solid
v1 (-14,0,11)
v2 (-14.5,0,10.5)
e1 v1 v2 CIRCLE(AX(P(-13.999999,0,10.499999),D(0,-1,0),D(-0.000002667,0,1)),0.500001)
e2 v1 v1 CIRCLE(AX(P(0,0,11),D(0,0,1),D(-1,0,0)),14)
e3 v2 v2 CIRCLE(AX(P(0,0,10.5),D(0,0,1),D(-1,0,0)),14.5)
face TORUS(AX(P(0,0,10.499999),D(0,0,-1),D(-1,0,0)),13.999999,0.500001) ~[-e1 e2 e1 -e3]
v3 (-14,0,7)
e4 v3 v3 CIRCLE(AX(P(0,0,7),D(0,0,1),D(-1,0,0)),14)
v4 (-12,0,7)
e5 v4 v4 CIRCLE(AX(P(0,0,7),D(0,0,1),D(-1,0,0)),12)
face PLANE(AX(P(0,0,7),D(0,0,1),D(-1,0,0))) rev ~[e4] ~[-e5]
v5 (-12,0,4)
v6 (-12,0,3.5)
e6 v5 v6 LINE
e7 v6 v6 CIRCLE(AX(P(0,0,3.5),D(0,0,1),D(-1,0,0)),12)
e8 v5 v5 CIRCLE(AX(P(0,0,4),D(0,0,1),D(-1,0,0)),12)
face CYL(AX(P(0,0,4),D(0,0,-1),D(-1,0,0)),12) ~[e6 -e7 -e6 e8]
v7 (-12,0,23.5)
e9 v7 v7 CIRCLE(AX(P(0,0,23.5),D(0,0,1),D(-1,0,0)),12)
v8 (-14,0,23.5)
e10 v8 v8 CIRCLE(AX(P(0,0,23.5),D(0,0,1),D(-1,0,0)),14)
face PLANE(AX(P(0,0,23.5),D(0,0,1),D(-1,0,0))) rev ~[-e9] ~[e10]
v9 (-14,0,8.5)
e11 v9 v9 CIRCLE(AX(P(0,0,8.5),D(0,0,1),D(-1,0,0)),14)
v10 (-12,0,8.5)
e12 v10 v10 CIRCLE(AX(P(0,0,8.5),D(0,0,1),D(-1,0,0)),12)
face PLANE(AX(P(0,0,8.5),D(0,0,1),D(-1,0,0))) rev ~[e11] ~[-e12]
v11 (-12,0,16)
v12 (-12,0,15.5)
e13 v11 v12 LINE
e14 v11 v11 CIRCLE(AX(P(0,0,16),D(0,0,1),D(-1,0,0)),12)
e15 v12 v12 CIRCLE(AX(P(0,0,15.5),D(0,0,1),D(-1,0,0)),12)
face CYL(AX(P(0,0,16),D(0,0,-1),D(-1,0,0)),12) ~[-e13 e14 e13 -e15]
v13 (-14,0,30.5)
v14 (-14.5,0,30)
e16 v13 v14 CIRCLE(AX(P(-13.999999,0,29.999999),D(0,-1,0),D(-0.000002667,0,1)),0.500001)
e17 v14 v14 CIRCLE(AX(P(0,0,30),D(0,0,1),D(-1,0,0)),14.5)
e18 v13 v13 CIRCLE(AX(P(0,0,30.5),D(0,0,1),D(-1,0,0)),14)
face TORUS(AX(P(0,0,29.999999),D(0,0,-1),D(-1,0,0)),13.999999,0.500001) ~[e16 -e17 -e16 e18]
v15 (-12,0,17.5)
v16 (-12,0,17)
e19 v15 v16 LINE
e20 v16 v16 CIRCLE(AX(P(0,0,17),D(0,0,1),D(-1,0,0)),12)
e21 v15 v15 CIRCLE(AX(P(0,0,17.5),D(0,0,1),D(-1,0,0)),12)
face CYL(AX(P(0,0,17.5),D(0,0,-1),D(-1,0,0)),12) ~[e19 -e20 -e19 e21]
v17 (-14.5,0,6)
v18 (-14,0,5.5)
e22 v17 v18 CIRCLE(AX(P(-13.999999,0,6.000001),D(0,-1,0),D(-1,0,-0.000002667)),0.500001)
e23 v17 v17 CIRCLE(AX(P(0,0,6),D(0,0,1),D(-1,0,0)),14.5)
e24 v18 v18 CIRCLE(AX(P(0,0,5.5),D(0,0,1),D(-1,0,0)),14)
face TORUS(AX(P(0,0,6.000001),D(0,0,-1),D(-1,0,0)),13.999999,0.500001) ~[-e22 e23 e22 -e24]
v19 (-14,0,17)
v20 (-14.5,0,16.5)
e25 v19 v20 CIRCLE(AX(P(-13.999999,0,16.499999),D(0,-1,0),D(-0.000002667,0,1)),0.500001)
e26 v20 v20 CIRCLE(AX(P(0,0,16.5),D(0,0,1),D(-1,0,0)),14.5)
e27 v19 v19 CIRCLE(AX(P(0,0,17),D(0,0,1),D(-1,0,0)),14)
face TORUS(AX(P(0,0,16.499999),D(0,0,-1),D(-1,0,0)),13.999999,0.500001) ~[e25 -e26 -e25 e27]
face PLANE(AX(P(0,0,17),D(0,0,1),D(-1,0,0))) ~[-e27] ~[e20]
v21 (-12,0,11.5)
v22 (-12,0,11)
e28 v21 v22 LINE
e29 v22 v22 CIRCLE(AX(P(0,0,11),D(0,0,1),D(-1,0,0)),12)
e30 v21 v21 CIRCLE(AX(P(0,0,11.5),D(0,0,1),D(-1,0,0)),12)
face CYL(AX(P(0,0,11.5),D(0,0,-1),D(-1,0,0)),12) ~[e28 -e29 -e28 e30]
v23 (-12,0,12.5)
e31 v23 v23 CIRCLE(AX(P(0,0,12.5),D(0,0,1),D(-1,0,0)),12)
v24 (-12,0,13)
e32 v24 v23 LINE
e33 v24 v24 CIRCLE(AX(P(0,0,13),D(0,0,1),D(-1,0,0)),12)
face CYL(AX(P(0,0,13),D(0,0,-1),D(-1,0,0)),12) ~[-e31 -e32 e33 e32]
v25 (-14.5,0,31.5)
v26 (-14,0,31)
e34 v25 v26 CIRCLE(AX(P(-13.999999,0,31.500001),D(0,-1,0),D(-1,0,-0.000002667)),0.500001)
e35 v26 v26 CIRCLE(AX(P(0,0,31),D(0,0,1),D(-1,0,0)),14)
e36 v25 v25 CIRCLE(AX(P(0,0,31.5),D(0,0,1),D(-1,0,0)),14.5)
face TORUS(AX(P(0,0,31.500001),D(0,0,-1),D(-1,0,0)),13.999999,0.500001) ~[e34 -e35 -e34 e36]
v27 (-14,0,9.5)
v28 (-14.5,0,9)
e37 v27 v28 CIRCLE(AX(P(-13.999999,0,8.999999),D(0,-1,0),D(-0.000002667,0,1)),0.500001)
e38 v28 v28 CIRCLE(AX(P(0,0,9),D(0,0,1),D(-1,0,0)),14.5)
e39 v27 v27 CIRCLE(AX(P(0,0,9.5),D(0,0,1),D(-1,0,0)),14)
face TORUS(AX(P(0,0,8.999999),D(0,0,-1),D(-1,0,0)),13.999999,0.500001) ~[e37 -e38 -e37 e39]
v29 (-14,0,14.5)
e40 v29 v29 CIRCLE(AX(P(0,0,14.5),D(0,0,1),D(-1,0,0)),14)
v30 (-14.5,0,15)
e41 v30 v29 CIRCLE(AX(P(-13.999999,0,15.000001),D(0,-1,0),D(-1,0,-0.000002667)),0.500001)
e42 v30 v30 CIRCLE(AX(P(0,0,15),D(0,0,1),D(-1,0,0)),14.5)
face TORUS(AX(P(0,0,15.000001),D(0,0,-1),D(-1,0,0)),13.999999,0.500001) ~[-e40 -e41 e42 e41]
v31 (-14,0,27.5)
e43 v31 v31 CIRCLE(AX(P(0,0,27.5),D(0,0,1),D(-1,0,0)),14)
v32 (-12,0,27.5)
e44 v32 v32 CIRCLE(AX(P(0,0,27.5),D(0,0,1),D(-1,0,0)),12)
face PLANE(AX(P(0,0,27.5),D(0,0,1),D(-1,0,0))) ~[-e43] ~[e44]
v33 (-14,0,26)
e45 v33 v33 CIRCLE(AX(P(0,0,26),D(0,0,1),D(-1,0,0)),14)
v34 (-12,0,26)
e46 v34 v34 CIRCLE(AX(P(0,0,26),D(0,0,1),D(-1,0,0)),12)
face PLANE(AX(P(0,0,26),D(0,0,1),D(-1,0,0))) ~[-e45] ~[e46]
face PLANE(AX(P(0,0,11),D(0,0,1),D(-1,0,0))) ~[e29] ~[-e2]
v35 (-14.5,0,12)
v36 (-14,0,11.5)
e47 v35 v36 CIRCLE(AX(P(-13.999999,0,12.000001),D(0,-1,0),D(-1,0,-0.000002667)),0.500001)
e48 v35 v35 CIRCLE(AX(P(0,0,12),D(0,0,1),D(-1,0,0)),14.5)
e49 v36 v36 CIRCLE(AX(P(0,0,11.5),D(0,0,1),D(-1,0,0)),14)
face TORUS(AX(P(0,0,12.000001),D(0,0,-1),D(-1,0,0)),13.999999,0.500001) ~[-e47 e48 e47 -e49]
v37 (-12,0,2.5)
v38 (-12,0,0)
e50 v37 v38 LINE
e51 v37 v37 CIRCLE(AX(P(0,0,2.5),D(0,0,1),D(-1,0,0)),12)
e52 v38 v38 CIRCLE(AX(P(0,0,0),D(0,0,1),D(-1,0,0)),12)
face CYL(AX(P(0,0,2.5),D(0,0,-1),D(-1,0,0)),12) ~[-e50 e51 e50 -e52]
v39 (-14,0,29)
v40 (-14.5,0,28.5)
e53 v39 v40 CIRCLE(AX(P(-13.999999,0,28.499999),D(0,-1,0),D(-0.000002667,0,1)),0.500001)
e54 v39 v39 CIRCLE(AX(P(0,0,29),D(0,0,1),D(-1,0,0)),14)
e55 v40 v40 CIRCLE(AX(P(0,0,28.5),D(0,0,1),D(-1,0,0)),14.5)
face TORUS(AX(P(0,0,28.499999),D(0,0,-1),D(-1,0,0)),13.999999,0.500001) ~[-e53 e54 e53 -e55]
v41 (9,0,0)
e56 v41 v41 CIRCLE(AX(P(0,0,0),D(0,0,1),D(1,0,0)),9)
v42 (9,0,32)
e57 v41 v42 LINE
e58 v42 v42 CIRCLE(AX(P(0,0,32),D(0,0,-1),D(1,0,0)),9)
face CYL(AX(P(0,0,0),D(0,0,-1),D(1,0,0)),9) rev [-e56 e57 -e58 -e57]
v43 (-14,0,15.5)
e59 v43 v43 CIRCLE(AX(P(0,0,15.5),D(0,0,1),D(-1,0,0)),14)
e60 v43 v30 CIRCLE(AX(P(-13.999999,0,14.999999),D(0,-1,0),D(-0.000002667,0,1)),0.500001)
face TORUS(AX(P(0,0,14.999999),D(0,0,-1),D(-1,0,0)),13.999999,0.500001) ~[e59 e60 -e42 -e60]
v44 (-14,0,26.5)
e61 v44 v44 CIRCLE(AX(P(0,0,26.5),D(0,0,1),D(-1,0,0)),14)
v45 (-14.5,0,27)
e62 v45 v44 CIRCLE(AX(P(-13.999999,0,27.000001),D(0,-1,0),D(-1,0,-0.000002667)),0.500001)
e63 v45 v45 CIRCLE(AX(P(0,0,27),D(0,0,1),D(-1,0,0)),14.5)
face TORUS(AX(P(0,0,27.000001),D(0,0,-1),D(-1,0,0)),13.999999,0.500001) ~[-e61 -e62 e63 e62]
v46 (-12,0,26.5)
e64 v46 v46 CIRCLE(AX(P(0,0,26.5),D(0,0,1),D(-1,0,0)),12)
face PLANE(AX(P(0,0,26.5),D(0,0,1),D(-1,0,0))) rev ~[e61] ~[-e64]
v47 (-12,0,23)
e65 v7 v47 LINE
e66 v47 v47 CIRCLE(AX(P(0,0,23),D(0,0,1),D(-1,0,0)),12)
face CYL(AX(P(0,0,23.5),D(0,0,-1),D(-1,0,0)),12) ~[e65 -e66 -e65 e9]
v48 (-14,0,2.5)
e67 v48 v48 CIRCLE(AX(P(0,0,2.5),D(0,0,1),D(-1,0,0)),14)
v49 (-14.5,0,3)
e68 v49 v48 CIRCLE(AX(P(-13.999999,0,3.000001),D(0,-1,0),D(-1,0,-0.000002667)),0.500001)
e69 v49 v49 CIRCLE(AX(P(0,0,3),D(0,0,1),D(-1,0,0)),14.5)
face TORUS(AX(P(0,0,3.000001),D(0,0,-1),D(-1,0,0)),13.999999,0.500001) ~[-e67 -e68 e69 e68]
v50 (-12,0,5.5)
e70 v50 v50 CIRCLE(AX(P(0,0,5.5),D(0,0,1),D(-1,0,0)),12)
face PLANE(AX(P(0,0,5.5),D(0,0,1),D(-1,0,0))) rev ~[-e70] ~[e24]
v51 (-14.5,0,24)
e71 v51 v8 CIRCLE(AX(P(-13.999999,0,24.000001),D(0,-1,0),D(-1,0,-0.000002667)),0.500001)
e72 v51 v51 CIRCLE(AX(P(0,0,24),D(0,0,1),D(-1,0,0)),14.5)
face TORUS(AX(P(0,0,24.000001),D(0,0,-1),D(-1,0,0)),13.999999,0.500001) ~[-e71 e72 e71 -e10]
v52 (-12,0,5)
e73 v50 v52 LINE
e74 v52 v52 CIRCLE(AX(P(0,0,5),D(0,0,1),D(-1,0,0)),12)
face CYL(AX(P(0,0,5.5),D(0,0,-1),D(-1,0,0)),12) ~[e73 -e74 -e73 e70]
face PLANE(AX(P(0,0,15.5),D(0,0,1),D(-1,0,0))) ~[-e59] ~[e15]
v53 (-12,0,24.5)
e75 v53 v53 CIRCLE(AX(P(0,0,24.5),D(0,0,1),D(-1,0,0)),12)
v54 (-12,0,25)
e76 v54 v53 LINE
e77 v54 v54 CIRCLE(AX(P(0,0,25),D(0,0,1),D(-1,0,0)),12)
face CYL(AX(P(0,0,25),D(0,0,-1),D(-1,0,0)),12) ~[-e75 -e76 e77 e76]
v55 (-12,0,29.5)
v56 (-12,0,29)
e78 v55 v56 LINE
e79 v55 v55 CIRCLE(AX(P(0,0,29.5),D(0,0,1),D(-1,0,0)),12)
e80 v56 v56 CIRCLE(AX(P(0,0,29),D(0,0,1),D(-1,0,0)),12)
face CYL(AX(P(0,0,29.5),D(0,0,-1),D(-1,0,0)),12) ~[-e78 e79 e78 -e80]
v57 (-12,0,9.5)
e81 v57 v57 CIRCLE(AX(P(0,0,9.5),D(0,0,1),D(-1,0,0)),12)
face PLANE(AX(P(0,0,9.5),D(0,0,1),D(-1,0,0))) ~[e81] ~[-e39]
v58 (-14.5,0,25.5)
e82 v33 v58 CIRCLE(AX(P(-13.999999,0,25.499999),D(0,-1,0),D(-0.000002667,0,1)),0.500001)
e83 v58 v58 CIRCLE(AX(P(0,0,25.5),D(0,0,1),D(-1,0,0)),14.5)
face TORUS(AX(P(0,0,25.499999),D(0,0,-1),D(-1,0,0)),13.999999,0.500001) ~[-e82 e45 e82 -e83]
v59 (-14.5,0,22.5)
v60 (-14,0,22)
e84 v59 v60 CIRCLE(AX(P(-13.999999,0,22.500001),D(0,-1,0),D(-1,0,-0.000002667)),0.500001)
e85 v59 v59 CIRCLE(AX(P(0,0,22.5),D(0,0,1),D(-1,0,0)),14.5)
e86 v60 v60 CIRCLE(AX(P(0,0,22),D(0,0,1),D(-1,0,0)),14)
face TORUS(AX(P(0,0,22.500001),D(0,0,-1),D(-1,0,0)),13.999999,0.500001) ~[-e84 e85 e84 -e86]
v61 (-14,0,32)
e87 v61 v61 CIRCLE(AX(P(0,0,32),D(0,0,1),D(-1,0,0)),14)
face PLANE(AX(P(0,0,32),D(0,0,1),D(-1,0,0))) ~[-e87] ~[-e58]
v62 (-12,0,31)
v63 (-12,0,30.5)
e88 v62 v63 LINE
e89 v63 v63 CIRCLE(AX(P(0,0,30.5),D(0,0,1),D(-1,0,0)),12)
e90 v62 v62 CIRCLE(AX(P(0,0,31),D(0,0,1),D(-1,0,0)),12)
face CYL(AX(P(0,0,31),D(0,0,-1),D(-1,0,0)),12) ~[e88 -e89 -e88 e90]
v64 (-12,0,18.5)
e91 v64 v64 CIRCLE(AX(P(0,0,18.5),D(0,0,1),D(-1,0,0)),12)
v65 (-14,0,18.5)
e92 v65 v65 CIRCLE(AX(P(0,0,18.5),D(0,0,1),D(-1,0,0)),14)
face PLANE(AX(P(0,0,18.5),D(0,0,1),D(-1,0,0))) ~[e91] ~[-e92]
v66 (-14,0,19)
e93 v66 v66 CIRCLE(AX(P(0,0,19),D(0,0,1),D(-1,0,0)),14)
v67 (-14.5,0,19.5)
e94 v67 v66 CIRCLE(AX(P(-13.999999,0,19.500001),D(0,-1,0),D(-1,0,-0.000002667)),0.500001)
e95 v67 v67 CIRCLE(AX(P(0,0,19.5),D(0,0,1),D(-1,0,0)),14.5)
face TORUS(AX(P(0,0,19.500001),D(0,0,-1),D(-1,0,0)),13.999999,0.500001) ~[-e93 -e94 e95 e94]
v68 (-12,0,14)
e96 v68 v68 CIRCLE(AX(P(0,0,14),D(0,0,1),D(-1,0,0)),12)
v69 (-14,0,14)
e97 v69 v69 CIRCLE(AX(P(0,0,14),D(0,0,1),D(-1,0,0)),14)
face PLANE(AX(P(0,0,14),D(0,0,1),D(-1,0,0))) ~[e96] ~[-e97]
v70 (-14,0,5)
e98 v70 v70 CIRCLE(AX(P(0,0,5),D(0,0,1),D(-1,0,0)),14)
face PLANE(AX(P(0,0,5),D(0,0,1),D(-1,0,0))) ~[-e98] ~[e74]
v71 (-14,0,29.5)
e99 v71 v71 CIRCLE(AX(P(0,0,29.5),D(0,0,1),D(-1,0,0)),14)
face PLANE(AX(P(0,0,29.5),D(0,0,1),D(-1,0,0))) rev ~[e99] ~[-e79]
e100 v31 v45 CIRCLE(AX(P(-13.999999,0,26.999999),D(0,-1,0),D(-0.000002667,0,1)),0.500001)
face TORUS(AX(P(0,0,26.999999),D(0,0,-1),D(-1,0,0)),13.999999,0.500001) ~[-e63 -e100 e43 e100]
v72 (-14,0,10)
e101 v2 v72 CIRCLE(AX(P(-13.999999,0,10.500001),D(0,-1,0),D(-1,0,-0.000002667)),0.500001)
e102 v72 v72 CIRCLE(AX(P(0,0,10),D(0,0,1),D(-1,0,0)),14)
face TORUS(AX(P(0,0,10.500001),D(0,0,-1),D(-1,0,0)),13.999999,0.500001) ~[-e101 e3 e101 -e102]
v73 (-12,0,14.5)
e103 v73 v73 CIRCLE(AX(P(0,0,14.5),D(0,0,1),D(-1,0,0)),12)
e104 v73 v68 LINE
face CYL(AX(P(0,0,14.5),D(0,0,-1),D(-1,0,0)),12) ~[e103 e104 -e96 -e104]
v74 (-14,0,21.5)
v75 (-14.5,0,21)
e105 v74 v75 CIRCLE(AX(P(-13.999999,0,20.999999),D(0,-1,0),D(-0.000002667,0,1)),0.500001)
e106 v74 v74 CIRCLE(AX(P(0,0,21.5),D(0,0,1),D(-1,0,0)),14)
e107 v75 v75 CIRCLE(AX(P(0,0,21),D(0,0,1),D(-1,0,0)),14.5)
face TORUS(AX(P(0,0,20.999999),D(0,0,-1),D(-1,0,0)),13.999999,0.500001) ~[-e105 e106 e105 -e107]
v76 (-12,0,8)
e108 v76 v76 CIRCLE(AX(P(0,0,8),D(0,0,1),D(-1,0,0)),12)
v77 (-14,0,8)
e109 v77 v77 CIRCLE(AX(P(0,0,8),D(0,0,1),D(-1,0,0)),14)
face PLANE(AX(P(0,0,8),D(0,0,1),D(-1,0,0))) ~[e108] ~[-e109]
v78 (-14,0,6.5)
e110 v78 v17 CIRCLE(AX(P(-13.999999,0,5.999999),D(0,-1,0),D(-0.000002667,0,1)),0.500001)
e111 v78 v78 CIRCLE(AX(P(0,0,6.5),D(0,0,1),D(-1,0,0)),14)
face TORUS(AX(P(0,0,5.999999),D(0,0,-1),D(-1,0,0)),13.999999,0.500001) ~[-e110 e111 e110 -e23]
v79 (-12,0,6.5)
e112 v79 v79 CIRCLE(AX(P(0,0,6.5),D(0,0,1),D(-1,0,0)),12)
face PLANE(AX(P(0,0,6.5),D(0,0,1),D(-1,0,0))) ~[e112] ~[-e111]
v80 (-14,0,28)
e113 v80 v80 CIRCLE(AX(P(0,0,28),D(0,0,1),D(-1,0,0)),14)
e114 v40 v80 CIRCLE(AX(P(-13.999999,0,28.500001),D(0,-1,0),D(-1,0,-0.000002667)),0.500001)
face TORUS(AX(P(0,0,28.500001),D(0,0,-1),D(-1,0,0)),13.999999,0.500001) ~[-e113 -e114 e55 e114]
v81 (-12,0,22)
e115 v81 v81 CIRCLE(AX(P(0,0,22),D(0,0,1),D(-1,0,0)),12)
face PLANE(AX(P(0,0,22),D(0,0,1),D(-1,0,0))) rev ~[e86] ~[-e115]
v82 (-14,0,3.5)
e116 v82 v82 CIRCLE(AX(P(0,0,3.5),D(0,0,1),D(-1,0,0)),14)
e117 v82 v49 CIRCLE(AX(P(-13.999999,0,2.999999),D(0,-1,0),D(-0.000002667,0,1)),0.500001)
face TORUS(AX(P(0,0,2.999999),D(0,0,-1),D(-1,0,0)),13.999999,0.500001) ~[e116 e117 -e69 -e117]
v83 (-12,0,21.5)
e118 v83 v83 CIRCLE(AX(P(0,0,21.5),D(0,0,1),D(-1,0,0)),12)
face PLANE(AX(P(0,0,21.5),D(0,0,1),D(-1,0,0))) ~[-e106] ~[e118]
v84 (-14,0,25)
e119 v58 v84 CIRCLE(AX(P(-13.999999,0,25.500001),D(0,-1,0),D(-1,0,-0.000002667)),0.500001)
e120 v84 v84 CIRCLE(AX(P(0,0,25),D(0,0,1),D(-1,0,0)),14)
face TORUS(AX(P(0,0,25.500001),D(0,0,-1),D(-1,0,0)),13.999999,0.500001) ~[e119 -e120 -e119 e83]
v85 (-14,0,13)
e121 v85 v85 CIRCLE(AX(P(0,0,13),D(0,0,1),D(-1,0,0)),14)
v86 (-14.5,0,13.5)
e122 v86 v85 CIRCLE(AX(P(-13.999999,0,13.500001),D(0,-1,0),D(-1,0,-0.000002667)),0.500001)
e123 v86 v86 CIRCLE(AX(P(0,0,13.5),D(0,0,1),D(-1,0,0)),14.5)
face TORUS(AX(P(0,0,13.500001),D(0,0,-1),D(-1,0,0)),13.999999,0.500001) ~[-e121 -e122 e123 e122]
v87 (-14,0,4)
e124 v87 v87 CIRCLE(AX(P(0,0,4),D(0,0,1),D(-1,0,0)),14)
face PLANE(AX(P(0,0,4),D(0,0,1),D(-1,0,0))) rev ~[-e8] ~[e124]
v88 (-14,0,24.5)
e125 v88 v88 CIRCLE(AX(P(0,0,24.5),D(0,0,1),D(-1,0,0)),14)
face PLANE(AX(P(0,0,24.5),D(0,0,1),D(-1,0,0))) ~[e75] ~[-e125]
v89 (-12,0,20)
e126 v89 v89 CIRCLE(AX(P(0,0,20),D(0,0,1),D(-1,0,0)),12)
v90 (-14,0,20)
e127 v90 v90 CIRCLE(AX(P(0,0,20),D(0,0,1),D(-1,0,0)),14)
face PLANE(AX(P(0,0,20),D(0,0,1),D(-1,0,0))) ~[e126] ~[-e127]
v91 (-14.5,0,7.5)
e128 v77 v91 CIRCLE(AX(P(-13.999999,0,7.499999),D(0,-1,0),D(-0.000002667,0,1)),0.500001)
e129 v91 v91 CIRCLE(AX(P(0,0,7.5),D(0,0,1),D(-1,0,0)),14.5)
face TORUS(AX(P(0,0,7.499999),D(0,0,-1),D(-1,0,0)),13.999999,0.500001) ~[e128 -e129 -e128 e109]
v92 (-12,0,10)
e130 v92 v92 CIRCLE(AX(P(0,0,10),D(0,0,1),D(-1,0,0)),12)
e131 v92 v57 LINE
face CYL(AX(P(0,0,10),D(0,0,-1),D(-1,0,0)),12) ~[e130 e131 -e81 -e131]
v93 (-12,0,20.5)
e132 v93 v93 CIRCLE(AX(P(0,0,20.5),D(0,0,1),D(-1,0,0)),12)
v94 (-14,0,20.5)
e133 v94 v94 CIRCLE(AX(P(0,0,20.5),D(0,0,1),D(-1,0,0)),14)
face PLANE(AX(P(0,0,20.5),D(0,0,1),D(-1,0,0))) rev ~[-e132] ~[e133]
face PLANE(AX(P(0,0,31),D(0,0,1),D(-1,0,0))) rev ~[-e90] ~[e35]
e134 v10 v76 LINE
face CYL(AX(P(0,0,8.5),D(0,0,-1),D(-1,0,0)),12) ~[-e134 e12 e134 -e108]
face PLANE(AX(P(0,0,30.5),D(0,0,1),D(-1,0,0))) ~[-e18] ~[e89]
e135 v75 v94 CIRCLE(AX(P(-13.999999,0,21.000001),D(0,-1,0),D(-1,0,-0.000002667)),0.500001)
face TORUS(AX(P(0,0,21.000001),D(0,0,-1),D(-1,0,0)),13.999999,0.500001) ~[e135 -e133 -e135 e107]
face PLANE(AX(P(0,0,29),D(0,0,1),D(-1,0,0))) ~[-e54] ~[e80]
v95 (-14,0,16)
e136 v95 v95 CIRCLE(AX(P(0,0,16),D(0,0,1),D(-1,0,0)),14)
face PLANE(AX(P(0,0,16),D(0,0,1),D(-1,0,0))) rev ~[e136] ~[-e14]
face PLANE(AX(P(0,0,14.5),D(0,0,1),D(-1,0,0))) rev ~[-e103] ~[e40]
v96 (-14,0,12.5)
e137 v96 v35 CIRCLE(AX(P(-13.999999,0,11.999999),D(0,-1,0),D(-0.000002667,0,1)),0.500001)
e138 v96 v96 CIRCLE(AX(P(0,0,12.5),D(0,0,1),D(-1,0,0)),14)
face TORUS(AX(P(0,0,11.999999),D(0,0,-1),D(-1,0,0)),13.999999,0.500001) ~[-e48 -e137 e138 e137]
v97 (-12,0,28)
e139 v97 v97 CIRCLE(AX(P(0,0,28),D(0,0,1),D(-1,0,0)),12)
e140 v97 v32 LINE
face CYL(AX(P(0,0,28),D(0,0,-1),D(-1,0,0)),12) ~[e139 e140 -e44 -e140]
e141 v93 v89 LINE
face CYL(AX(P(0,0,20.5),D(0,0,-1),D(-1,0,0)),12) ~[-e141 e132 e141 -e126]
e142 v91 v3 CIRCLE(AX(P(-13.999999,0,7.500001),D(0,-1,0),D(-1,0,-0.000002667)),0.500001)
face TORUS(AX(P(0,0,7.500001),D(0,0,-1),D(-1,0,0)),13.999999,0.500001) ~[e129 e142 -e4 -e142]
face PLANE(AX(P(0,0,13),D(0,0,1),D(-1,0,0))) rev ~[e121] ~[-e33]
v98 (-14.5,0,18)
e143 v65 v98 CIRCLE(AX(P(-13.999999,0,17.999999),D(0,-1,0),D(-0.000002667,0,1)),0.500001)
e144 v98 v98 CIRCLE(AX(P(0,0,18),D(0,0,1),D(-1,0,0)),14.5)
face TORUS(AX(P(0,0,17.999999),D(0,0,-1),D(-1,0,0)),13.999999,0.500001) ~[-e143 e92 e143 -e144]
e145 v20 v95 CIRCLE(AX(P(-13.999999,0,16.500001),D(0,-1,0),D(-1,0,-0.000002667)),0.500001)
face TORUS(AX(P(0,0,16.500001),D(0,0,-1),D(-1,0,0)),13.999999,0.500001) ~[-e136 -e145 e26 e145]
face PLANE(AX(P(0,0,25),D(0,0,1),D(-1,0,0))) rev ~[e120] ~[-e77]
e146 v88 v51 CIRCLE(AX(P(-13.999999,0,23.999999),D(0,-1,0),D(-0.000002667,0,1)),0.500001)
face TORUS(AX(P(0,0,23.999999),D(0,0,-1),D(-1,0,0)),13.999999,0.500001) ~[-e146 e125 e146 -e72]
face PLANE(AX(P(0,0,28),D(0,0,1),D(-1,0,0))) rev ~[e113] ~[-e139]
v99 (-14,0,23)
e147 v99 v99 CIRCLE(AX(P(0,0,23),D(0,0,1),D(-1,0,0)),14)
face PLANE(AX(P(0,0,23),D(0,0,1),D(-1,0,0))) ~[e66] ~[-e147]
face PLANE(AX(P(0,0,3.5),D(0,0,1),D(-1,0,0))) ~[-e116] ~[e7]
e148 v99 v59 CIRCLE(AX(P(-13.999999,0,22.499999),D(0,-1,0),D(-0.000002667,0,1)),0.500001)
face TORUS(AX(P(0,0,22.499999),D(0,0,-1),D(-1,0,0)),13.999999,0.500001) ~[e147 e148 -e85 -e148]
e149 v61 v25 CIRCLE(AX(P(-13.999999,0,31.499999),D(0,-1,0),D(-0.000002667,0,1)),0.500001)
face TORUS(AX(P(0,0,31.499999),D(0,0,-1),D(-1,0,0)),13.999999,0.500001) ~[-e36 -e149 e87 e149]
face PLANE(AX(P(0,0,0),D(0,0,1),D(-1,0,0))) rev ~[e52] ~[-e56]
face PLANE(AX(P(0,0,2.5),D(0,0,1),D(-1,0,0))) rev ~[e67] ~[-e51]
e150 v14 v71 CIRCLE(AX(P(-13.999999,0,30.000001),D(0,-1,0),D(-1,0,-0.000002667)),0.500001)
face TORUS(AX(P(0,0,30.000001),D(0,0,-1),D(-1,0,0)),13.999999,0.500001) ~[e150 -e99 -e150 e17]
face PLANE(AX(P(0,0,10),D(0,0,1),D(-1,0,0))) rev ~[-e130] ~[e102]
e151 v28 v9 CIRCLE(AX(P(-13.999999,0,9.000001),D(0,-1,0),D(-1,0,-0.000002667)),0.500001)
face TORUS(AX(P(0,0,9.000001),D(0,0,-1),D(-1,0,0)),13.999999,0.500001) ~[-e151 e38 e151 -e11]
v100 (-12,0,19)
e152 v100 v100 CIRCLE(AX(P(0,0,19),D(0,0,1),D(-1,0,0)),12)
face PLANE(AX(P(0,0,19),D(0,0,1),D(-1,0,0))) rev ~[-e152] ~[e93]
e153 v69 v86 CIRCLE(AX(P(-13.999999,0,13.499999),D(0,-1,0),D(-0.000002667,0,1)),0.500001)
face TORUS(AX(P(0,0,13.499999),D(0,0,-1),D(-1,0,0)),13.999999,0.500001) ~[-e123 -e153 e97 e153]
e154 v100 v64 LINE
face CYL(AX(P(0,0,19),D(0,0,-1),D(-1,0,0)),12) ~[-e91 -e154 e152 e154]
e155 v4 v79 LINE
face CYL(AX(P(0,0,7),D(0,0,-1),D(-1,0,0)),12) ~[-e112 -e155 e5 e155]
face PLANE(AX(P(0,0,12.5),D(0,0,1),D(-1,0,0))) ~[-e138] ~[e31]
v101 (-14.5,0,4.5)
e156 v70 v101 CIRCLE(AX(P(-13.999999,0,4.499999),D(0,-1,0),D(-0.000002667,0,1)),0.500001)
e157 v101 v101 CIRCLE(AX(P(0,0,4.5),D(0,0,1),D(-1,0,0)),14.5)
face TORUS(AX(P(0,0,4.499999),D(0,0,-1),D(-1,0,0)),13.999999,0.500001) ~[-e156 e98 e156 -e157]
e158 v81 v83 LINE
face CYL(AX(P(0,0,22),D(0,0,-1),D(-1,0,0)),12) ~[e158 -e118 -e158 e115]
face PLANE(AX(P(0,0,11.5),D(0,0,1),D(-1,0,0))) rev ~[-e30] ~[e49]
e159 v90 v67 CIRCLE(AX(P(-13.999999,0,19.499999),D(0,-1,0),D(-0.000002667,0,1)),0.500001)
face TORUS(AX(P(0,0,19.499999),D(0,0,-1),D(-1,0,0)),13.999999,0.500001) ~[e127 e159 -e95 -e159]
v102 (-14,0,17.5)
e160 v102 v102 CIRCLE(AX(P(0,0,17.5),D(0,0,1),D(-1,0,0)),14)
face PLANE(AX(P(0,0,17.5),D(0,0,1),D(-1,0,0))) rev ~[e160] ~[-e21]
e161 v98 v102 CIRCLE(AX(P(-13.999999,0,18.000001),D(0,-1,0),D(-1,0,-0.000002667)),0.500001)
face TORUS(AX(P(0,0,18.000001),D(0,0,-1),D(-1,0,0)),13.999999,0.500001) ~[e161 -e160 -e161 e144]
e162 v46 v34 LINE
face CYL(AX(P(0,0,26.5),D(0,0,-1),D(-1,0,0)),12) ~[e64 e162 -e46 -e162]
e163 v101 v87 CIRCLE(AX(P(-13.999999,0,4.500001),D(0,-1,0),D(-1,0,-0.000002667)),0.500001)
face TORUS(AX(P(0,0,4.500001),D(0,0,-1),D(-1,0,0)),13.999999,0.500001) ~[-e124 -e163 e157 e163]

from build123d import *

# Parameters (mm, degrees)
F0_R     = 9
F1_DEPTH = 32
F4_DEPTH = 40


with BuildPart() as f1:
    # F0 (on Top) → F1 (new body)
    with BuildSketch(Plane.XY):
        Circle(F0_R)
    extrude(amount=F1_DEPTH)

    # F2 (on Front) → F3 (revolve)
    with BuildSketch(Plane.XZ):
        with BuildLine():
            Line((-12, 29.5), (-12, 30.5))
            Line((-12, 30.5), (-14, 30.5))
            ThreePointArc((-14, 30.5), (-14.353553, 30.353553), (-14.5, 30))
            ThreePointArc((-14.5, 30), (-14.353553, 29.646447), (-14, 29.5))
            Line((-14, 29.5), (-12, 29.5))
        make_face()
        with BuildLine():
            Line((-12, 31), (-12, 32))
            Line((-12, 32), (-14, 32))
            ThreePointArc((-14, 32), (-14.353553, 31.853553), (-14.5, 31.5))
            ThreePointArc((-14.5, 31.5), (-14.353553, 31.146447), (-14, 31))
            Line((-14, 31), (-12, 31))
        make_face()
        with BuildLine():
            Line((-12, 28), (-12, 29))
            Line((-12, 29), (-14, 29))
            ThreePointArc((-14, 29), (-14.353553, 28.853553), (-14.5, 28.5))
            ThreePointArc((-14.5, 28.5), (-14.353553, 28.146447), (-14, 28))
            Line((-14, 28), (-12, 28))
        make_face()
        with BuildLine():
            Line((-12, 26.5), (-12, 27.5))
            Line((-12, 27.5), (-14, 27.5))
            ThreePointArc((-14, 27.5), (-14.353553, 27.353553), (-14.5, 27))
            ThreePointArc((-14.5, 27), (-14.353553, 26.646447), (-14, 26.5))
            Line((-14, 26.5), (-12, 26.5))
        make_face()
        with BuildLine():
            Line((-12, 25), (-12, 26))
            Line((-12, 26), (-14, 26))
            ThreePointArc((-14, 26), (-14.353553, 25.853553), (-14.5, 25.5))
            ThreePointArc((-14.5, 25.5), (-14.353553, 25.146447), (-14, 25))
            Line((-14, 25), (-12, 25))
        make_face()
        with BuildLine():
            Line((-12, 23.5), (-12, 24.5))
            Line((-12, 24.5), (-14, 24.5))
            ThreePointArc((-14, 24.5), (-14.353553, 24.353553), (-14.5, 24))
            ThreePointArc((-14.5, 24), (-14.353553, 23.646447), (-14, 23.5))
            Line((-14, 23.5), (-12, 23.5))
        make_face()
        with BuildLine():
            Line((-12, 22), (-12, 23))
            Line((-12, 23), (-14, 23))
            ThreePointArc((-14, 23), (-14.353553, 22.853553), (-14.5, 22.5))
            ThreePointArc((-14.5, 22.5), (-14.353553, 22.146447), (-14, 22))
            Line((-14, 22), (-12, 22))
        make_face()
        with BuildLine():
            Line((-12, 20.5), (-12, 21.5))
            Line((-12, 21.5), (-14, 21.5))
            ThreePointArc((-14, 21.5), (-14.353553, 21.353553), (-14.5, 21))
            ThreePointArc((-14.5, 21), (-14.353553, 20.646447), (-14, 20.5))
            Line((-14, 20.5), (-12, 20.5))
        make_face()
        with BuildLine():
            Line((-12, 19), (-12, 20))
            Line((-12, 20), (-14, 20))
            ThreePointArc((-14, 20), (-14.353553, 19.853553), (-14.5, 19.5))
            ThreePointArc((-14.5, 19.5), (-14.353553, 19.146447), (-14, 19))
            Line((-14, 19), (-12, 19))
        make_face()
        with BuildLine():
            Line((-12, 17.5), (-12, 18.5))
            Line((-12, 18.5), (-14, 18.5))
            ThreePointArc((-14, 18.5), (-14.353553, 18.353553), (-14.5, 18))
            ThreePointArc((-14.5, 18), (-14.353553, 17.646447), (-14, 17.5))
            Line((-14, 17.5), (-12, 17.5))
        make_face()
        with BuildLine():
            Line((-14, 16), (-12, 16))
            Line((-12, 16), (-12, 17))
            Line((-12, 17), (-14, 17))
            ThreePointArc((-14, 17), (-14.353553, 16.853553), (-14.5, 16.5))
            ThreePointArc((-14.5, 16.5), (-14.353553, 16.146447), (-14, 16))
        make_face()
        with BuildLine():
            Line((-14, 14.5), (-12, 14.5))
            Line((-12, 14.5), (-12, 15.5))
            Line((-12, 15.5), (-14, 15.5))
            ThreePointArc((-14, 15.5), (-14.353553, 15.353553), (-14.5, 15))
            ThreePointArc((-14.5, 15), (-14.353553, 14.646447), (-14, 14.5))
        make_face()
        with BuildLine():
            Line((-14, 13), (-12, 13))
            Line((-12, 13), (-12, 14))
            Line((-12, 14), (-14, 14))
            ThreePointArc((-14, 14), (-14.353553, 13.853553), (-14.5, 13.5))
            ThreePointArc((-14.5, 13.5), (-14.353553, 13.146447), (-14, 13))
        make_face()
        with BuildLine():
            Line((-14, 11.5), (-12, 11.5))
            Line((-12, 11.5), (-12, 12.5))
            Line((-12, 12.5), (-14, 12.5))
            ThreePointArc((-14, 12.5), (-14.353553, 12.353553), (-14.5, 12))
            ThreePointArc((-14.5, 12), (-14.353553, 11.646447), (-14, 11.5))
        make_face()
        with BuildLine():
            Line((-14, 10), (-12, 10))
            Line((-12, 10), (-12, 11))
            Line((-12, 11), (-14, 11))
            ThreePointArc((-14, 11), (-14.353553, 10.853553), (-14.5, 10.5))
            ThreePointArc((-14.5, 10.5), (-14.353553, 10.146447), (-14, 10))
        make_face()
        with BuildLine():
            Line((-14, 8.5), (-12, 8.5))
            Line((-12, 8.5), (-12, 9.5))
            Line((-12, 9.5), (-14, 9.5))
            ThreePointArc((-14, 9.5), (-14.353553, 9.353553), (-14.5, 9))
            ThreePointArc((-14.5, 9), (-14.353553, 8.646447), (-14, 8.5))
        make_face()
        with BuildLine():
            Line((-14, 7), (-12, 7))
            Line((-12, 7), (-12, 8))
            Line((-12, 8), (-14, 8))
            ThreePointArc((-14, 8), (-14.353553, 7.853553), (-14.5, 7.5))
            ThreePointArc((-14.5, 7.5), (-14.353553, 7.146447), (-14, 7))
        make_face()
        with BuildLine():
            Line((-14, 5.5), (-12, 5.5))
            Line((-12, 5.5), (-12, 6.5))
            Line((-12, 6.5), (-14, 6.5))
            ThreePointArc((-14, 6.5), (-14.353553, 6.353553), (-14.5, 6))
            ThreePointArc((-14.5, 6), (-14.353553, 5.646447), (-14, 5.5))
        make_face()
        with BuildLine():
            Line((-14, 4), (-12, 4))
            Line((-12, 4), (-12, 5))
            Line((-12, 5), (-14, 5))
            ThreePointArc((-14, 5), (-14.353553, 4.853553), (-14.5, 4.5))
            ThreePointArc((-14.5, 4.5), (-14.353553, 4.146447), (-14, 4))
        make_face()
        with BuildLine():
            Line((-14, 2.5), (-12, 2.5))
            Line((-12, 2.5), (-12, 3.5))
            Line((-12, 3.5), (-14, 3.5))
            ThreePointArc((-14, 3.5), (-14.353553, 3.353553), (-14.5, 3))
            ThreePointArc((-14.5, 3), (-14.353553, 2.646447), (-14, 2.5))
        make_face()
        Polygon((-12, 0), (-9, 0), (-9, 32), (-12, 32), (-12, 31), (-12, 30.5), (-12, 29.5), (-12, 29), (-12, 28), (-12, 27.5), (-12, 26.5), (-12, 26), (-12, 25), (-12, 24.5), (-12, 23.5), (-12, 23), (-12, 22), (-12, 21.5), (-12, 20.5), (-12, 20), (-12, 19), (-12, 18.5), (-12, 17.5), (-12, 17), (-12, 16), (-12, 15.5), (-12, 14.5), (-12, 14), (-12, 13), (-12, 12.5), (-12, 11.5), (-12, 11), (-12, 10), (-12, 9.5), (-12, 8.5), (-12, 8), (-12, 7), (-12, 6.5), (-12, 5.5), (-12, 5), (-12, 4), (-12, 3.5), (-12, 2.5), align=None)
    revolve(axis=Axis((0, 0, 16.813509), (0, 0, 1)))

    # F0 (on Top) → F4 (cut)
    with BuildSketch(Plane.XY):
        Circle(F0_R)
    extrude(amount=F4_DEPTH, mode=Mode.SUBTRACT)


solid = f1.part
